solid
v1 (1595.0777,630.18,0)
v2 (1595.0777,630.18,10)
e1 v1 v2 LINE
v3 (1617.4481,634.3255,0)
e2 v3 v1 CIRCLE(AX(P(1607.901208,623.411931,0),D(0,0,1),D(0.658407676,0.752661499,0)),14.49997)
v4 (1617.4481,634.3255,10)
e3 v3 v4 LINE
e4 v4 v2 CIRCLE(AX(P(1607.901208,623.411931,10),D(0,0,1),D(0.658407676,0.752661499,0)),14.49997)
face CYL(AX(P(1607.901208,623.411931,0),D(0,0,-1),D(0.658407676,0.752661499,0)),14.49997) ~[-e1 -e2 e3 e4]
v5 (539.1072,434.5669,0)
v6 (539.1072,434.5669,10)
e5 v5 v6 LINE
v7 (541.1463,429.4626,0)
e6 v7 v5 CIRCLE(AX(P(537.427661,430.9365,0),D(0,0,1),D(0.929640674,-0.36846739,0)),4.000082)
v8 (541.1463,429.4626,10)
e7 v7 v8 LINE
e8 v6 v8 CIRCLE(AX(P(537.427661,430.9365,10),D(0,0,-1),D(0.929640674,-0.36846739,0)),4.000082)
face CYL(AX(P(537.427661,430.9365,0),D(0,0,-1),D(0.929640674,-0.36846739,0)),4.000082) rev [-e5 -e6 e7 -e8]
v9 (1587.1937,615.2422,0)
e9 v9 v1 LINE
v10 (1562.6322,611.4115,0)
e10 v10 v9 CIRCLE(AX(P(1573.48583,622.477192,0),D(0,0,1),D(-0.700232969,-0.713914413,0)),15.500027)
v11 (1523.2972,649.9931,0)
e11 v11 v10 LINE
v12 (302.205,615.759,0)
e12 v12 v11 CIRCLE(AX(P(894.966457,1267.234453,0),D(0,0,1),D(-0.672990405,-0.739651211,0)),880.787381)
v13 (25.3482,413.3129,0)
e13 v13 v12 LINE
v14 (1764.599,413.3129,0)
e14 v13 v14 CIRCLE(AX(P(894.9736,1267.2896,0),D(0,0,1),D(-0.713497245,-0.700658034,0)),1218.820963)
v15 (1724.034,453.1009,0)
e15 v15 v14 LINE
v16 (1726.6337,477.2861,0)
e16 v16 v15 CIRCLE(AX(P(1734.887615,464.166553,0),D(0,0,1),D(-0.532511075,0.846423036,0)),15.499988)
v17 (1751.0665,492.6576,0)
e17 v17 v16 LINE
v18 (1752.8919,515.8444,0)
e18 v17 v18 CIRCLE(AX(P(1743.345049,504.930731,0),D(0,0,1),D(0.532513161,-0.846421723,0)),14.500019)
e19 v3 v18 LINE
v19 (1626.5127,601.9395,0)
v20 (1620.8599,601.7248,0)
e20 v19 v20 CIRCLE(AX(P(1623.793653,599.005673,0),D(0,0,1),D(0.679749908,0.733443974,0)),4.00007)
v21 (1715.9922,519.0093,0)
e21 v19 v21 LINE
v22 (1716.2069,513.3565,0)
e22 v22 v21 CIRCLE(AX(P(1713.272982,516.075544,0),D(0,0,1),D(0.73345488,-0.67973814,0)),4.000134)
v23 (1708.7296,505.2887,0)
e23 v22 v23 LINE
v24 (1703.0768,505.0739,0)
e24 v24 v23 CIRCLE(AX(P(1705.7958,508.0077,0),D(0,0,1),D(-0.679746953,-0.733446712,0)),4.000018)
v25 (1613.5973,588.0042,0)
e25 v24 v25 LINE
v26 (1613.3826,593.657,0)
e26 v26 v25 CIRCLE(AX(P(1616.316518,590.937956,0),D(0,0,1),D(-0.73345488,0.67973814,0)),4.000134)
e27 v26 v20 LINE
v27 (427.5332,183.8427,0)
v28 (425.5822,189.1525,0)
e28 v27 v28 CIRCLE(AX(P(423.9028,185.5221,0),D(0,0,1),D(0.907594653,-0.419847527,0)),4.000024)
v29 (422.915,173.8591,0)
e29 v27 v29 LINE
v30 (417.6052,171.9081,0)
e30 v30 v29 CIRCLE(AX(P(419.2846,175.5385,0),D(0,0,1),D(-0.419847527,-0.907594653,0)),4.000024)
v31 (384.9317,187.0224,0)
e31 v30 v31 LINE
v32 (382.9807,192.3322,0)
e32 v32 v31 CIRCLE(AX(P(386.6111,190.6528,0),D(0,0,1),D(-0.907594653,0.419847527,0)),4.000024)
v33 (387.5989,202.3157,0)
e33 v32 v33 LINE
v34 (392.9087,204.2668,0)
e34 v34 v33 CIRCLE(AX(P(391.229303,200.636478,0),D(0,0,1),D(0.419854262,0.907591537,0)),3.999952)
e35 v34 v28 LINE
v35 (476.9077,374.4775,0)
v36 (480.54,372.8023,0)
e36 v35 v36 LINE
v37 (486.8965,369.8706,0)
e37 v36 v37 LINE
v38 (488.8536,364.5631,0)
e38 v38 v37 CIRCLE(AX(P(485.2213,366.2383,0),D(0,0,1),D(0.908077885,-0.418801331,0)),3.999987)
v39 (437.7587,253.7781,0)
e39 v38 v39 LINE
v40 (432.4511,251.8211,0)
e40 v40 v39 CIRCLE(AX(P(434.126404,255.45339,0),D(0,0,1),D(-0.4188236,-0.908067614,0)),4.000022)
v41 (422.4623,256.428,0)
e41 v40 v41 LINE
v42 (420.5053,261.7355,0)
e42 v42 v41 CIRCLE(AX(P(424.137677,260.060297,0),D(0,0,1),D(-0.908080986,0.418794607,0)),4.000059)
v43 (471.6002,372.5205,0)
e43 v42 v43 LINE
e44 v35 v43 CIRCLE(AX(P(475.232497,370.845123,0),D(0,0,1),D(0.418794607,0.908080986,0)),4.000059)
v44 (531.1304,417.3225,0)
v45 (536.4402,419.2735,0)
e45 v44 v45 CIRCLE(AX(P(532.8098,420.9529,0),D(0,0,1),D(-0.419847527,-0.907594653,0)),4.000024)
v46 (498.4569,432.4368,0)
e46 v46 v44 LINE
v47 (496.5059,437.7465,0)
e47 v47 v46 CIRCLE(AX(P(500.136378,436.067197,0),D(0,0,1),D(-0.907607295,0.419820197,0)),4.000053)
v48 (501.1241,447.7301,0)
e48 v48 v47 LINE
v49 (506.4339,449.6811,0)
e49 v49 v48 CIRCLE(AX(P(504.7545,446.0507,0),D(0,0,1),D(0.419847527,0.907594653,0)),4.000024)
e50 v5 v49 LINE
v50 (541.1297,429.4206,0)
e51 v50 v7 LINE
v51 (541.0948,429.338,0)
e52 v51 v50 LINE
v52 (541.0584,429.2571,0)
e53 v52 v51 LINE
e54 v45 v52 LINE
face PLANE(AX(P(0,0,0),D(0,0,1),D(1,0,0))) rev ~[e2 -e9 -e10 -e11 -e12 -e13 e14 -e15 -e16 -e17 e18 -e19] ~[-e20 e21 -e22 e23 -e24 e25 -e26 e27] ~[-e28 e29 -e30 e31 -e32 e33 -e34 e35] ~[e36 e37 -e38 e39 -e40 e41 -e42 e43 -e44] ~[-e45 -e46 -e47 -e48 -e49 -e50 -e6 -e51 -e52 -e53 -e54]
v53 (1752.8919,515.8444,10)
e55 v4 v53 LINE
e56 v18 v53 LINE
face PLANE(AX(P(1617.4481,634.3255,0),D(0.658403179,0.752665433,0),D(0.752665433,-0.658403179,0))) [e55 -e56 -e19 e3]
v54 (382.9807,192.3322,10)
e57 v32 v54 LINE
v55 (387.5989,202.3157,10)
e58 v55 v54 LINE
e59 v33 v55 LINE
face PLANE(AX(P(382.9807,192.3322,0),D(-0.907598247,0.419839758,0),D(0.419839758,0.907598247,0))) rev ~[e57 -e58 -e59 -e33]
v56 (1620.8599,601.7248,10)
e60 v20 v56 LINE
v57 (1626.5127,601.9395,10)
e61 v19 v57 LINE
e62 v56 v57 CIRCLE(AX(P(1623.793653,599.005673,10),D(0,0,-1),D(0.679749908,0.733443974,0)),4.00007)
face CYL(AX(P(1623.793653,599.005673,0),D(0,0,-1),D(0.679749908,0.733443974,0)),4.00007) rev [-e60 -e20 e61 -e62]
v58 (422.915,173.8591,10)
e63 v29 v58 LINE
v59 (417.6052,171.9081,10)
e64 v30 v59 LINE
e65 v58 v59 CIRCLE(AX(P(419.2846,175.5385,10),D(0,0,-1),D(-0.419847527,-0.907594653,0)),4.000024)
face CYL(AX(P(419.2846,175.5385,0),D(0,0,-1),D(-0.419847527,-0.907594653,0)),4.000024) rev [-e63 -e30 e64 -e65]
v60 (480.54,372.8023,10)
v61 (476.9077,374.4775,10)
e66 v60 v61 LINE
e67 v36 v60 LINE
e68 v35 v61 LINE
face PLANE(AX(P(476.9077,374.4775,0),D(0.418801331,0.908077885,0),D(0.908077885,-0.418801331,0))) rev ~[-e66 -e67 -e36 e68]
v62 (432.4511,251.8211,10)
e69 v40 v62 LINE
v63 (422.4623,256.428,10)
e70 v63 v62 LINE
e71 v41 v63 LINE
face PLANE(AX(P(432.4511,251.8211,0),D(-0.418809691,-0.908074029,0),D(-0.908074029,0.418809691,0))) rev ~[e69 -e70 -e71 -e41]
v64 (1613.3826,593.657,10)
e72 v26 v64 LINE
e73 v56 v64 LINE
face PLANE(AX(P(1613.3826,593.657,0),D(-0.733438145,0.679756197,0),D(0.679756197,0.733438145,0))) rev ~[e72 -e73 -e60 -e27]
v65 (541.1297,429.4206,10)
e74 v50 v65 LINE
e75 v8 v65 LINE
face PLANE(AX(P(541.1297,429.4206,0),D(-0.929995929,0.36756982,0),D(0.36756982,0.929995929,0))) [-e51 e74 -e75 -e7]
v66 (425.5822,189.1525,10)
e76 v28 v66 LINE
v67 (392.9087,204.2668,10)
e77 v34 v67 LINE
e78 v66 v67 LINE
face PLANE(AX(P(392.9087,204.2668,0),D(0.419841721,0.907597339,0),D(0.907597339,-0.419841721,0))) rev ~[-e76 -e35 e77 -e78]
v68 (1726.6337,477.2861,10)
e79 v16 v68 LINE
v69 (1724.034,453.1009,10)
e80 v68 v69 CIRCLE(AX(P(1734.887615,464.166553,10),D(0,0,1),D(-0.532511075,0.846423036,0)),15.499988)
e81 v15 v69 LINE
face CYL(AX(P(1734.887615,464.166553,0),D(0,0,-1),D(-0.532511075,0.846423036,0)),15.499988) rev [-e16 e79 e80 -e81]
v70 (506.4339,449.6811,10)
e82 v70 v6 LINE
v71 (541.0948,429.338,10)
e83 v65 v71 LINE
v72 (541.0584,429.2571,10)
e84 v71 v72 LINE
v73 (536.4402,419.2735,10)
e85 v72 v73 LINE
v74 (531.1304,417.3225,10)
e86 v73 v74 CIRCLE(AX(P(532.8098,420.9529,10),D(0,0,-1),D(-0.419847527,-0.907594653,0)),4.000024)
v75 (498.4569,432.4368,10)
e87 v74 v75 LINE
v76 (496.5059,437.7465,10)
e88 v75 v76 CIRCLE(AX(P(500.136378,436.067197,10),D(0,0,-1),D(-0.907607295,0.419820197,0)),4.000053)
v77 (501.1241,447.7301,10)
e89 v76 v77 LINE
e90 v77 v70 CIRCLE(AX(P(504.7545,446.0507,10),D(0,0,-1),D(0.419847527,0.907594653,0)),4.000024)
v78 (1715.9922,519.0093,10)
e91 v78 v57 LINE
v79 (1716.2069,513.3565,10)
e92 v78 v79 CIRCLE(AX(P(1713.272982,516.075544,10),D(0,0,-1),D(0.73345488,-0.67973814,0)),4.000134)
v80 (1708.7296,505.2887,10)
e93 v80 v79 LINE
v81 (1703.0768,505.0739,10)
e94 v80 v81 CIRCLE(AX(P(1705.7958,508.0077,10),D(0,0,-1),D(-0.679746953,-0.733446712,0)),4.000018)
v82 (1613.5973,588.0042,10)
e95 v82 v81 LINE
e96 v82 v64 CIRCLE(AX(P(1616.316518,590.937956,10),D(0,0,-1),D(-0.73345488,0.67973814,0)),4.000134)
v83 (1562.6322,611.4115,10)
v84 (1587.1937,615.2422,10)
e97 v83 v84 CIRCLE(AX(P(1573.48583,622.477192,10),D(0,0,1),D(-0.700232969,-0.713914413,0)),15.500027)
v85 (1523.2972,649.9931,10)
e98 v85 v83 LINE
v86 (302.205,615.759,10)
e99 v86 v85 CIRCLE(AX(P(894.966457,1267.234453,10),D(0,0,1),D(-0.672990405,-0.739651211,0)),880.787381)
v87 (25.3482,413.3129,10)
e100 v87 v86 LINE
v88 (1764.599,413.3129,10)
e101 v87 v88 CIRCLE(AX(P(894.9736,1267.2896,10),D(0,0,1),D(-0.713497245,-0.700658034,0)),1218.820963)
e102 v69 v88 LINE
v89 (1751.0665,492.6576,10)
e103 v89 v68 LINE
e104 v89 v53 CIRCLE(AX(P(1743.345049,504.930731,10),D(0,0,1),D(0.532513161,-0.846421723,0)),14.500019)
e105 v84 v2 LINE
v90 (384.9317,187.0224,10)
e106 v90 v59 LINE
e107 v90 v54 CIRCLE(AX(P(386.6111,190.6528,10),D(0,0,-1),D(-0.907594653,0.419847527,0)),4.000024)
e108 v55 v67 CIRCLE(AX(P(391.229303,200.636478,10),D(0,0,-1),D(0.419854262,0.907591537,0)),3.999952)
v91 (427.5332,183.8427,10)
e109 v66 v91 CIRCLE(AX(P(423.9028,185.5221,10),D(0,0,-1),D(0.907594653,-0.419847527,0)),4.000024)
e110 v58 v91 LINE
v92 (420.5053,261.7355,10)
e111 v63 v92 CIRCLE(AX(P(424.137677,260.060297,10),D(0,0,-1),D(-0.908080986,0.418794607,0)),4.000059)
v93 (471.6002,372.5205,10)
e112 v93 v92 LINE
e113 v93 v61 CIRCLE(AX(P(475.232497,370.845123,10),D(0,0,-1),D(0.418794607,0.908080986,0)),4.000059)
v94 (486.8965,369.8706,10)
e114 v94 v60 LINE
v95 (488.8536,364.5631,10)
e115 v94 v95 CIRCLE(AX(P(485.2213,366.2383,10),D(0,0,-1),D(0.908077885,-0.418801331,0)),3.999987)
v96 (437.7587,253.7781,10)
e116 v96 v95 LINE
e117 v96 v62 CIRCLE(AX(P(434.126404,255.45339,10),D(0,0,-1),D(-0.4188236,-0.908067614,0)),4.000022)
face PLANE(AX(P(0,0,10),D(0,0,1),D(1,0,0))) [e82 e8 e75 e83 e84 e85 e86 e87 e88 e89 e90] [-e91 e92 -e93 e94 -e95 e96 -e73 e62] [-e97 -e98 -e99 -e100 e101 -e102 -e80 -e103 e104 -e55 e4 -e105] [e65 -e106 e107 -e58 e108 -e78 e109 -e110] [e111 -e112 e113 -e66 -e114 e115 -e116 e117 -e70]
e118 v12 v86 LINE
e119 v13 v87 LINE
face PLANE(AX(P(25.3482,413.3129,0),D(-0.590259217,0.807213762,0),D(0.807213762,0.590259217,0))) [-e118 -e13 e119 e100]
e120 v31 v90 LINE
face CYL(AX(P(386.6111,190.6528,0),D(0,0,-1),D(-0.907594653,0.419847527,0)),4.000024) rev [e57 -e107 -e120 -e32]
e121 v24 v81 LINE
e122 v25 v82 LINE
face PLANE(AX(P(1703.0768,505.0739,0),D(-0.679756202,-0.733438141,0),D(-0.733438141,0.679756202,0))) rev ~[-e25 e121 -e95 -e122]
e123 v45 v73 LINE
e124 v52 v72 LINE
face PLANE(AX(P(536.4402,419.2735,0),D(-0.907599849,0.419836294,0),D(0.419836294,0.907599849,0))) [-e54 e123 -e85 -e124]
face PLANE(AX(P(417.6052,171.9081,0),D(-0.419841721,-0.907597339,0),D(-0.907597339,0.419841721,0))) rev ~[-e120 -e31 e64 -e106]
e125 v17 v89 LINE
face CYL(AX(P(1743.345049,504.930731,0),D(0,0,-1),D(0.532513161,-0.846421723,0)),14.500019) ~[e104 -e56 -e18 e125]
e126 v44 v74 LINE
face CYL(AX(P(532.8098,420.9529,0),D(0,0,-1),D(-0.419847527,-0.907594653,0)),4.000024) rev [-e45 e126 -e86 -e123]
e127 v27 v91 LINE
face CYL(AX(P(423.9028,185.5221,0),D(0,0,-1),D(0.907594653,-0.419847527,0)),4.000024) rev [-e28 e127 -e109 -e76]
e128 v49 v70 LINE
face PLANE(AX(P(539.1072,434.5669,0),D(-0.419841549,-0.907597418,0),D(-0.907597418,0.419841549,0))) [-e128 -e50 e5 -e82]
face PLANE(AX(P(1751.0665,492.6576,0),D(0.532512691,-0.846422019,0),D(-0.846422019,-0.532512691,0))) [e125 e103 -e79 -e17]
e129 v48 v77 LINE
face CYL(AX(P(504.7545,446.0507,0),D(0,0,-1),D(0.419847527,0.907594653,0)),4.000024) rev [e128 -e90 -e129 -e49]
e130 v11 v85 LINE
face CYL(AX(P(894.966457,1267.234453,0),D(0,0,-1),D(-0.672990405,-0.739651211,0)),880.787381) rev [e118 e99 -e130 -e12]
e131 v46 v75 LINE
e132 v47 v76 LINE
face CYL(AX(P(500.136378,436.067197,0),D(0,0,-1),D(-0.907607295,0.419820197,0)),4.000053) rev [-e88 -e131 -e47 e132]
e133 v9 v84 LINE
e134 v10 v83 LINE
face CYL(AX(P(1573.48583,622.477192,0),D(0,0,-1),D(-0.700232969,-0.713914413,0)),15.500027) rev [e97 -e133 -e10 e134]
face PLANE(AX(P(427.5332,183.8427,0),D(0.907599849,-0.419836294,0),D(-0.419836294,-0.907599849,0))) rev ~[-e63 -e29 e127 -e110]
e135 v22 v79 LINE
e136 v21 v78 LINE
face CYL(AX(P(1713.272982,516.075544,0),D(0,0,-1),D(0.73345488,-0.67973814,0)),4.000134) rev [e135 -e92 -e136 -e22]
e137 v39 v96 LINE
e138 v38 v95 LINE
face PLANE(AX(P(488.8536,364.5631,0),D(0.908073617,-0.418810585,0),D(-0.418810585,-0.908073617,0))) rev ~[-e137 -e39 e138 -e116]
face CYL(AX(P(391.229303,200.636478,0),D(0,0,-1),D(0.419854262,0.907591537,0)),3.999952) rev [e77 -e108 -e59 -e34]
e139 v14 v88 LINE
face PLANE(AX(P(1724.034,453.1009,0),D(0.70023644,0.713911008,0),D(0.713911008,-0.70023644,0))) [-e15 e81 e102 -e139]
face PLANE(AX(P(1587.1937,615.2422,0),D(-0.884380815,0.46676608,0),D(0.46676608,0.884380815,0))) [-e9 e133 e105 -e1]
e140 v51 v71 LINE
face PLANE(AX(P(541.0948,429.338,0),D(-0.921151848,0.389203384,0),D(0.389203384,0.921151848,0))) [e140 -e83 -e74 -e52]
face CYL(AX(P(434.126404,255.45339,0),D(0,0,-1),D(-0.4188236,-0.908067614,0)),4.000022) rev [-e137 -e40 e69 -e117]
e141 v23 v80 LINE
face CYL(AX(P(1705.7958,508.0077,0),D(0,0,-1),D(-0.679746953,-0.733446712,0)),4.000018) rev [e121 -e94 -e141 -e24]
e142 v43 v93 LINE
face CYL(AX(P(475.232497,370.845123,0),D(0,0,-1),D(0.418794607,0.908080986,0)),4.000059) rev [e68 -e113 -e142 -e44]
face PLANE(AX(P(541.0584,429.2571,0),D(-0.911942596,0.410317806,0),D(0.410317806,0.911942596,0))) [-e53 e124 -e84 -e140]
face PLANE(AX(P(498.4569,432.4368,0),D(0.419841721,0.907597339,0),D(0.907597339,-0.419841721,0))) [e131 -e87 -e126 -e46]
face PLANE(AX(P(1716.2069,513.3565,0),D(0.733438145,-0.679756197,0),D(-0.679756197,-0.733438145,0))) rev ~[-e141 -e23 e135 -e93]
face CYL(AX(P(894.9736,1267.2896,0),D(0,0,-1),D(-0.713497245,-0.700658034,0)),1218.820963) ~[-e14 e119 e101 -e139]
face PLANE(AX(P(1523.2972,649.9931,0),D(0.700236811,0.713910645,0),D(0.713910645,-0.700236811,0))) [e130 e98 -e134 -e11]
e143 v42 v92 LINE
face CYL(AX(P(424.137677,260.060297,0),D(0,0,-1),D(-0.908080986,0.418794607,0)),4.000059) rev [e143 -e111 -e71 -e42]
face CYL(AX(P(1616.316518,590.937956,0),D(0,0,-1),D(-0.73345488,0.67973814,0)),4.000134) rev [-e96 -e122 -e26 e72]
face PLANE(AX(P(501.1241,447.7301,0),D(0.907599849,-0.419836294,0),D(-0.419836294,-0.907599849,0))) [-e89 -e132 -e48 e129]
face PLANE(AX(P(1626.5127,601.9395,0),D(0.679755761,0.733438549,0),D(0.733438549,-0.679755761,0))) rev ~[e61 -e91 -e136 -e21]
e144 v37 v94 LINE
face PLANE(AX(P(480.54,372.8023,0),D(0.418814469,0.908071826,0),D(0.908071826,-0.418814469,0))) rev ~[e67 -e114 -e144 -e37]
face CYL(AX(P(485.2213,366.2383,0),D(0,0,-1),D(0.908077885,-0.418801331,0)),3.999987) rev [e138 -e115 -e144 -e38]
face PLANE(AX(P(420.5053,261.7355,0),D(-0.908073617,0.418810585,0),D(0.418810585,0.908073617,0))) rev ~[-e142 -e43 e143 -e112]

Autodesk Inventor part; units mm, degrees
ref_plane "YZ Plane" through (0, 0, 0) normal (1, 0, 0) x (0, 1, 0)
ref_plane "XZ Plane" through (0, 0, 0) normal (0, 1, 0) x (-1, 0, 0)
ref_plane "XY Plane" through (0, 0, 0) normal (0, 0, 1) x (1, 0, 0)
sketch "CONTOURS" plane through (0, 0, 0) normal (0, 0, 1) x (1, 0, 0)
  line L0 (1957.6292, 879.0874) -> (1973.7702, 879.0874)
  arc A0 (1973.7702, 871.0874) -> (1973.7702, 879.0874) centre (1973.7702, 875.0874) ccw
  line L1 (2395.2631, 344.4855) -> (2395.2631, 361.2856)
  line L2 (2395.2631, 361.2856) -> (2335.4041, 361.2856)
  arc A1 (2327.4041, 361.2857) -> (2335.4041, 361.2856) centre (2331.4041, 361.2856) ccw
  line L3 (2327.4041, 361.2857) -> (2327.4041, 413.0854)
  arc A2 (2046.6196, 767.5507) -> (2327.4041, 413.0854) centre (2780.5524, 1060.4825) ccw
  arc A3 (2046.6196, 767.5507) -> (2038.9046, 766.0679) centre (2042.9046, 766.0679) ccw
  line L4 (2038.9046, 766.0679) -> (2038.9041, 604.8116)
  line L5 (2038.9041, 604.8116) -> (2060.9041, 604.8116)
  arc A4 (2068.9041, 604.8116) -> (2060.9041, 604.8116) centre (2064.9041, 604.8116) ccw
  line L6 (2068.9041, 604.8116) -> (2068.9041, 585.8116)
  arc A5 (2060.9041, 585.8116) -> (2068.9041, 585.8116) centre (2064.9041, 585.8116) ccw
  line L7 (2060.9041, 585.8116) -> (2037.4041, 585.8116)
  line L8 (2037.4041, 585.8116) -> (1996.4234, 585.8116)
  arc A6 (1988.9234, 587.8213) -> (1996.4234, 585.8116) centre (1996.4234, 600.8116) ccw
  line L9 (1988.9234, 587.8213) -> (1963.7631, 602.3475)
  arc A7 (1963.7631, 602.3475) -> (1957.7631, 598.8834) centre (1961.7631, 598.8834) ccw
  line L10 (1957.7631, 598.8834) -> (1957.7631, 403.7398)
  arc A8 (1957.7631, 403.7398) -> (1963.7631, 400.2757) centre (1961.7631, 403.7398) ccw
  line L11 (1963.7631, 400.2757) -> (1988.9234, 414.802)
  arc A9 (1996.4234, 416.8116) -> (1988.9234, 414.802) centre (1996.4234, 401.8116) ccw
  line L12 (1996.4234, 416.8116) -> (2037.4041, 416.8116)
  line L13 (2037.4041, 416.8116) -> (2060.9041, 416.8116)
  arc A10 (2068.9041, 416.8116) -> (2060.9041, 416.8116) centre (2064.9041, 416.8116) ccw
  line L14 (2068.9041, 416.8116) -> (2068.9041, 397.8116)
  arc A11 (2060.9041, 397.8116) -> (2068.9041, 397.8116) centre (2064.9041, 397.8116) ccw
  line L15 (2060.9041, 397.8116) -> (2038.9041, 397.8116)
  line L16 (2038.9041, 397.8116) -> (2038.9041, 210.8117)
  line L17 (2038.9041, 210.8117) -> (2052.4041, 210.8117)
  arc A12 (2052.4041, 202.8117) -> (2052.4041, 210.8117) centre (2052.4041, 206.8117) ccw
  line L18 (2052.4041, 202.8117) -> (2052.4041, 195.3488)
  arc A13 (2052.4041, 195.3488) -> (2327.4041, 47.9742) centre (2799.5688, 1259.2914) ccw
  arc A14 (2327.4041, 39.9742) -> (2327.4041, 47.9742) centre (2327.4041, 43.9742) ccw
  line L19 (2327.4041, 39.9742) -> (2327.4041, 23.2856)
  line L20 (2327.4041, 23.2856) -> (2395.2631, 23.2856)
  line L21 (2395.2631, 23.2856) -> (2395.2631, 40.0855)
  arc A15 (2395.2631, 48.0855) -> (2395.2631, 40.0855) centre (2395.2631, 44.0855) ccw
  line L22 (2395.2631, 48.0855) -> (2411.4041, 48.0855)
  line L23 (2411.4041, 48.0855) -> (2411.4041, 66.0855)
  line L24 (2411.4041, 66.0855) -> (2403.2631, 66.0855)
  arc A16 (2395.2631, 66.0855) -> (2403.2631, 66.0855) centre (2399.2631, 66.0855) ccw
  line L25 (2395.2631, 66.0855) -> (2395.2631, 132.0783)
  line L26 (2395.2631, 132.0783) -> (2373.2631, 132.0783)
  arc A17 (2365.2631, 132.0783) -> (2373.2631, 132.0783) centre (2369.2631, 132.0783) ccw
  line L27 (2365.2631, 132.0783) -> (2365.2631, 148.6501)
  line L28 (2365.2631, 148.6501) -> (2364.8394, 148.4335)
  line L29 (2364.8394, 148.4335) -> (2364.4234, 148.2026)
  line L30 (2364.4234, 148.2026) -> (2339.2631, 133.6763)
  arc A18 (2331.7631, 138.0065) -> (2339.2631, 133.6763) centre (2336.7631, 138.0065) ccw
  line L31 (2331.7631, 138.0065) -> (2331.7631, 246.5646)
  arc A19 (2339.2631, 250.8947) -> (2331.7631, 246.5646) centre (2336.7631, 246.5646) ccw
  line L32 (2339.2631, 250.8947) -> (2364.4234, 236.3684)
  line L33 (2364.4234, 236.3684) -> (2364.8394, 236.1375)
  line L34 (2364.8394, 236.1375) -> (2365.2631, 235.9209)
  line L35 (2365.2631, 235.9209) -> (2365.2631, 252.4928)
  arc A20 (2373.2631, 252.4928) -> (2365.2631, 252.4928) centre (2369.2631, 252.4928) ccw
  line L36 (2373.2631, 252.4928) -> (2395.2631, 252.4928)
  line L37 (2395.2631, 252.4928) -> (2395.2631, 318.4855)
  arc A21 (2403.2631, 318.4855) -> (2395.2631, 318.4855) centre (2399.2631, 318.4855) ccw
  line L38 (2403.2631, 318.4855) -> (2411.4041, 318.4855)
  line L39 (2411.4041, 318.4855) -> (2411.4041, 336.4855)
  line L40 (2411.4041, 336.4855) -> (2395.2631, 336.4855)
  arc A22 (2395.2631, 344.4855) -> (2395.2631, 336.4855) centre (2395.2631, 340.4855) ccw
  line L41 (1973.7702, 871.0874) -> (1973.7702, 854.2874)
  line L42 (1973.7702, 854.2874) -> (2033.6292, 854.2873)
  line L43 (2041.6292, 854.2873) -> (2041.6292, 802.4876)
  arc A23 (2322.4137, 448.0223) -> (2041.6292, 802.4876) centre (1588.4809, 155.0905) ccw
  arc A24 (2322.4137, 448.0223) -> (2330.1287, 449.505) centre (2326.1287, 449.505) ccw
  line L44 (2330.1287, 449.505) -> (2330.1292, 610.7613)
  line L45 (2330.1292, 610.7613) -> (2308.1292, 610.7613)
  arc A25 (2300.1292, 610.7613) -> (2308.1292, 610.7613) centre (2304.1292, 610.7613) ccw
  line L46 (2300.1292, 610.7613) -> (2300.1292, 629.7613)
  arc A26 (2308.1292, 629.7613) -> (2300.1292, 629.7613) centre (2304.1292, 629.7613) ccw
  line L47 (2308.1292, 629.7613) -> (2331.6292, 629.7613)
  line L48 (2331.6292, 629.7613) -> (2372.6099, 629.7613)
  arc A27 (2380.1099, 627.7517) -> (2372.6099, 629.7613) centre (2372.6099, 614.7613) ccw
  line L49 (2380.1099, 627.7517) -> (2405.2702, 613.2254)
  arc A28 (2405.2702, 613.2254) -> (2411.2702, 616.6895) centre (2407.2702, 616.6895) ccw
  line L50 (2411.2702, 616.6895) -> (2411.2702, 811.8331)
  line L51 (2405.2702, 815.2972) -> (2380.1099, 800.7709)
  arc A29 (2372.6099, 798.7613) -> (2380.1099, 800.7709) centre (2372.6099, 813.7613) ccw
  line L52 (2372.6099, 798.7613) -> (2331.6292, 798.7613)
  line L53 (2331.6292, 798.7613) -> (2308.1292, 798.7613)
  arc A30 (2300.1292, 798.7613) -> (2308.1292, 798.7613) centre (2304.1292, 798.7613) ccw
  line L54 (2300.1292, 798.7613) -> (2300.1292, 817.7613)
  arc A31 (2308.1292, 817.7613) -> (2300.1292, 817.7613) centre (2304.1292, 817.7613) ccw
  line L55 (2308.1292, 817.7613) -> (2330.1292, 817.7613)
  line L56 (2330.1292, 817.7613) -> (2330.1292, 1004.7612)
  line L57 (2330.1292, 1004.7612) -> (2316.6292, 1004.7612)
  arc A32 (2316.6292, 1012.7612) -> (2316.6292, 1004.7612) centre (2316.6292, 1008.7612) ccw
  line L58 (2316.6292, 1012.7612) -> (2316.6292, 1020.2242)
  arc A33 (2316.6292, 1020.2242) -> (2041.6292, 1167.5988) centre (1569.4645, -43.7184) ccw
  arc A34 (2041.6292, 1175.5988) -> (2041.6292, 1167.5988) centre (2041.6292, 1171.5988) ccw
  line L59 (2041.6292, 1175.5988) -> (2041.6292, 1192.2873)
  line L60 (2041.6292, 1192.2873) -> (1973.7702, 1192.2873)
  line L61 (1973.7702, 1192.2873) -> (1973.7702, 1175.4874)
  arc A35 (1973.7702, 1167.4874) -> (1973.7702, 1175.4874) centre (1973.7702, 1171.4874) ccw
  line L62 (1973.7702, 1167.4874) -> (1957.6292, 1167.4874)
  line L63 (1957.6292, 1167.4874) -> (1957.6292, 1149.4874)
  line L64 (1957.6292, 1149.4874) -> (1965.7702, 1149.4874)
  arc A36 (1973.7702, 1149.4874) -> (1965.7702, 1149.4874) centre (1969.7702, 1149.4874) ccw
  line L65 (1973.7702, 1149.4874) -> (1973.7702, 1083.4947)
  line L66 (1973.7702, 1083.4947) -> (1995.7702, 1083.4947)
  arc A37 (2003.7702, 1083.4946) -> (1995.7702, 1083.4947) centre (1999.7702, 1083.4947) ccw
  line L67 (2003.7702, 1083.4946) -> (2003.7702, 1066.9228)
  line L68 (2003.7702, 1066.9228) -> (2004.1939, 1067.1394)
  line L69 (2004.1939, 1067.1394) -> (2004.6099, 1067.3703)
  line L70 (2004.6099, 1067.3703) -> (2029.7702, 1081.8966)
  arc A38 (2037.2702, 1077.5665) -> (2029.7702, 1081.8966) centre (2032.2702, 1077.5665) ccw
  line L71 (2037.2702, 1077.5665) -> (2037.2702, 969.0084)
  line L72 (2029.7702, 964.6782) -> (2004.6099, 979.2045)
  line L73 (2004.6099, 979.2045) -> (2004.1939, 979.4354)
  line L74 (2004.1939, 979.4354) -> (2003.7702, 979.652)
  line L75 (2003.7702, 979.652) -> (2003.7702, 963.0802)
  arc A39 (1995.7702, 963.0802) -> (2003.7702, 963.0802) centre (1999.7702, 963.0802) ccw
  arc A40 (2411.2702, 811.8331) -> (2405.2702, 815.2972) centre (2407.2702, 811.8331) ccw
  line L76 (29.0412, 889.8609) -> (69.6135, 929.6413)
  arc A41 (92.1865, 926.768) -> (69.6135, 929.6413) centre (79.765, 919.2877) ccw
  line L77 (92.1865, 926.768) -> (107.0781, 902.0398)
  arc A42 (107.0781, 902.0398) -> (131.8211, 899.605) centre (120.3563, 910.0361) ccw
  line L78 (131.8211, 899.605) -> (252.9238, 1032.7101)
  arc A43 (252.9238, 1032.7101) -> (248.9601, 1056.7052) centre (241.459, 1043.1412) ccw
  line L79 (248.9601, 1056.7052) -> (234.1791, 1064.8793)
  arc A44 (231.0447, 1087.9218) -> (234.1791, 1064.8793) centre (241.1963, 1077.5683) ccw
  line L80 (231.0447, 1087.9218) -> (270.3869, 1126.4961)
  arc A45 (270.3869, 1126.4961) -> (1527.2637, 1126.4961) centre (898.8253, 1743.5906) ccw
  line L81 (1527.2637, 1126.4961) -> (1815.1018, 939.9773)
  arc A46 (29.0412, 889.8609) -> (1815.1018, 939.9773) centre (898.8169, 1743.6721) ccw
  line L82 (1523.2972, 649.9931) -> (1562.6322, 611.4115)
  arc A47 (1562.6322, 611.4115) -> (1587.1937, 615.2422) centre (1573.4858, 622.4771) ccw
  line L83 (1587.1937, 615.2422) -> (1595.0777, 630.18)
  arc A48 (1617.4481, 634.3255) -> (1595.0777, 630.18) centre (1607.9012, 623.4119) ccw
  line L84 (1617.4481, 634.3255) -> (1752.8919, 515.8444)
  arc A49 (1751.0665, 492.6576) -> (1752.8919, 515.8444) centre (1743.3451, 504.9307) ccw
  line L85 (1751.0665, 492.6576) -> (1726.6337, 477.2861)
  arc A50 (1726.6337, 477.2861) -> (1724.034, 453.1009) centre (1734.8877, 464.1665) ccw
  line L86 (1724.034, 453.1009) -> (1764.599, 413.3129)
  arc A51 (25.3482, 413.3129) -> (1764.599, 413.3129) centre (894.9736, 1267.2896) ccw
  line L87 (25.3482, 413.3129) -> (302.205, 615.759)
  arc A52 (302.205, 615.759) -> (1523.2972, 649.9931) centre (894.9664, 1267.2343) ccw
  line L88 (1995.7702, 963.0802) -> (1973.7702, 963.0802)
  line L89 (1973.7702, 963.0802) -> (1973.7702, 897.0874)
  arc A53 (1965.7702, 897.0874) -> (1973.7702, 897.0874) centre (1969.7702, 897.0874) ccw
  line L90 (1965.7702, 897.0874) -> (1957.6292, 897.0874)
  line L91 (1957.6292, 897.0874) -> (1957.6292, 879.0874)
  dimension "d1" = 338
  dimension "d3" = 16.6885
  dimension "d5" = 18
  dimension "d7" = 16.141
  dimension "d9" = 51.7997
  dimension "d11" = 1300.088
  dimension "d13" = 16.7999
sketch "HOLES" plane through (0, 0, 0) normal (0, 0, 1) x (1, 0, 0)
  line L0 (417.6052, 171.9081) -> (384.9317, 187.0224)
  arc A0 (382.9807, 192.3322) -> (384.9317, 187.0224) centre (386.6111, 190.6528) ccw
  line L1 (382.9807, 192.3322) -> (387.5989, 202.3157)
  arc A1 (392.9087, 204.2668) -> (387.5989, 202.3157) centre (391.2293, 200.6364) ccw
  line L2 (392.9087, 204.2668) -> (425.5822, 189.1525)
  arc A2 (427.5332, 183.8427) -> (425.5822, 189.1525) centre (423.9028, 185.5221) ccw
  line L3 (290.0252, 1067.7256) -> (282.3828, 1059.8139)
  arc A3 (276.7268, 1059.716) -> (282.3828, 1059.8139) centre (279.5059, 1062.593) ccw
  line L4 (276.7268, 1059.716) -> (250.8342, 1084.7274)
  arc A4 (250.7363, 1090.3834) -> (250.8342, 1084.7274) centre (253.6132, 1087.6044) ccw
  line L5 (250.7363, 1090.3834) -> (258.3786, 1098.2951)
  arc A5 (264.0347, 1098.393) -> (258.3786, 1098.2951) centre (261.2556, 1095.516) ccw
  line L6 (264.0347, 1098.393) -> (289.9273, 1073.3816)
  arc A6 (290.0252, 1067.7256) -> (289.9273, 1073.3816) centre (287.1482, 1070.5046) ccw
  line L7 (102.1615, 873.2431) -> (94.5191, 865.3315)
  arc A7 (88.8631, 865.2335) -> (94.5191, 865.3315) centre (91.6422, 868.1105) ccw
  line L8 (88.8631, 865.2335) -> (62.9705, 890.245)
  arc A8 (62.8726, 895.901) -> (62.9705, 890.245) centre (65.7496, 893.1219) ccw
  line L9 (62.8726, 895.901) -> (70.515, 903.8126)
  arc A9 (76.171, 903.9105) -> (70.515, 903.8126) centre (73.3919, 901.0336) ccw
  line L10 (488.8536, 364.5631) -> (437.7587, 253.7781)
  arc A10 (102.1615, 873.2431) -> (102.0636, 878.8991) centre (99.2846, 876.0221) ccw
  line L11 (1358.4331, 945.869) -> (1353.2703, 955.5821)
  arc A11 (1353.2703, 955.5821) -> (1347.8609, 957.2368) centre (1349.7382, 953.7047) ccw
  line L12 (1347.8609, 957.2368) -> (1316.0723, 940.3404)
  arc A12 (1316.0723, 940.3404) -> (1314.4176, 934.931) centre (1317.9497, 936.8084) ccw
  line L13 (1314.4176, 934.931) -> (1319.5804, 925.2178)
  arc A13 (1319.5804, 925.2178) -> (1324.9899, 923.5631) centre (1323.1125, 927.0952) ccw
  line L14 (1324.9899, 923.5631) -> (1356.7784, 940.4595)
  arc A14 (1356.7784, 940.4595) -> (1358.4331, 945.869) centre (1354.901, 943.9916) ccw
  line L15 (1441.3284, 696.1636) -> (1446.4912, 686.4505)
  arc A15 (1446.4912, 686.4505) -> (1451.9006, 684.7958) centre (1450.0232, 688.3278) ccw
  line L16 (1451.9006, 684.7958) -> (1483.6892, 701.6922)
  arc A16 (1483.6892, 701.6922) -> (1485.3438, 707.1016) centre (1481.8118, 705.2242) ccw
  line L17 (1485.3438, 707.1016) -> (1480.181, 716.8148)
  arc A17 (1480.181, 716.8148) -> (1474.7716, 718.4695) centre (1476.649, 714.9374) ccw
  line L18 (1474.7716, 718.4695) -> (1442.9831, 701.5731)
  arc A18 (1442.9831, 701.5731) -> (1441.3284, 696.1636) centre (1444.8604, 698.041) ccw
  line L19 (1363.2554, 875.1779) -> (1357.078, 871.8854)
  arc A19 (1357.078, 871.8854) -> (1355.4295, 866.4741) centre (1358.9594, 868.3555) ccw
  line L20 (1355.4295, 866.4741) -> (1412.8118, 758.8114)
  arc A20 (1412.8118, 758.8114) -> (1418.2231, 757.1628) centre (1416.3417, 760.6927) ccw
  line L21 (1418.2231, 757.1628) -> (1427.9304, 762.3366)
  arc A21 (1427.9304, 762.3366) -> (1429.579, 767.7479) centre (1426.049, 765.8666) ccw
  line L22 (1429.579, 767.7479) -> (1372.1967, 875.4107)
  arc A22 (1372.1967, 875.4107) -> (1366.7853, 877.0592) centre (1368.6667, 873.5293) ccw
  line L23 (1366.7853, 877.0592) -> (1363.2554, 875.1779)
  line L24 (1703.0768, 505.0739) -> (1613.5973, 588.0042)
  arc A23 (1613.3826, 593.657) -> (1613.5973, 588.0042) centre (1616.3164, 590.938) ccw
  line L25 (1613.3826, 593.657) -> (1620.8599, 601.7248)
  arc A24 (1626.5127, 601.9395) -> (1620.8599, 601.7248) centre (1623.7937, 599.0058) ccw
  line L26 (1626.5127, 601.9395) -> (1715.9922, 519.0093)
  arc A25 (1716.2069, 513.3565) -> (1715.9922, 519.0093) centre (1713.2731, 516.0755) ccw
  line L27 (1716.2069, 513.3565) -> (1708.7296, 505.2887)
  arc A26 (1703.0768, 505.0739) -> (1708.7296, 505.2887) centre (1705.7958, 508.0077) ccw
  line L28 (541.1297, 429.4206) -> (541.1463, 429.4626)
  arc A27 (541.1463, 429.4626) -> (539.1072, 434.5669) centre (537.4278, 430.9365) ccw
  line L29 (539.1072, 434.5669) -> (506.4339, 449.6811)
  arc A28 (506.4339, 449.6811) -> (501.1241, 447.7301) centre (504.7545, 446.0507) ccw
  line L30 (501.1241, 447.7301) -> (496.5059, 437.7465)
  arc A29 (496.5059, 437.7465) -> (498.4569, 432.4368) centre (500.1363, 436.0672) ccw
  line L31 (498.4569, 432.4368) -> (531.1304, 417.3225)
  arc A30 (531.1304, 417.3225) -> (536.4402, 419.2735) centre (532.8098, 420.9529) ccw
  line L32 (536.4402, 419.2735) -> (541.0584, 429.2571)
  line L33 (541.0584, 429.2571) -> (541.0948, 429.338)
  line L34 (541.0948, 429.338) -> (541.1297, 429.4206)
  line L35 (480.54, 372.8023) -> (486.8965, 369.8706)
  arc A31 (488.8536, 364.5631) -> (486.8965, 369.8706) centre (485.2213, 366.2383) ccw
  arc A32 (432.4511, 251.8211) -> (437.7587, 253.7781) centre (434.1264, 255.4533) ccw
  line L36 (432.4511, 251.8211) -> (422.4623, 256.428)
  arc A33 (420.5053, 261.7355) -> (422.4623, 256.428) centre (424.1376, 260.0603) ccw
  line L37 (420.5053, 261.7355) -> (471.6002, 372.5205)
  arc A34 (476.9077, 374.4775) -> (471.6002, 372.5205) centre (475.2325, 370.8452) ccw
  line L38 (476.9077, 374.4775) -> (480.54, 372.8023)
  line L39 (427.5332, 183.8427) -> (422.915, 173.8591)
  arc A35 (417.6052, 171.9081) -> (422.915, 173.8591) centre (419.2846, 175.5385) ccw
  line L40 (76.171, 903.9105) -> (102.0636, 878.8991)
sketch "LETTERS" plane through (0, 0, 0) normal (0, 0, 1) x (1, 0, 0)
  line L0 (565.2488, 269.5965) -> (565.4715, 269.5068)
  line L1 (565.4715, 269.5068) -> (565.6923, 269.4126)
  line L2 (565.6923, 269.4126) -> (565.9113, 269.314)
  line L3 (565.9113, 269.314) -> (566.1283, 269.2109)
  line L4 (566.1283, 269.2109) -> (566.3432, 269.1036)
  line L5 (566.3432, 269.1036) -> (566.556, 268.9919)
  line L6 (566.556, 268.9919) -> (566.7665, 268.876)
  line L7 (566.7665, 268.876) -> (566.9747, 268.7559)
  line L8 (566.9747, 268.7559) -> (567.1804, 268.6317)
  line L9 (567.1804, 268.6317) -> (567.3837, 268.5035)
  line L10 (567.3837, 268.5035) -> (567.5843, 268.3713)
  line L11 (567.5843, 268.3713) -> (567.7822, 268.2351)
  line L12 (567.7822, 268.2351) -> (567.9773, 268.095)
  line L13 (567.9773, 268.095) -> (568.1695, 267.951)
  line L14 (568.1695, 267.951) -> (568.3587, 267.8033)
  line L15 (568.3587, 267.8033) -> (568.5449, 267.6519)
  line L16 (568.5449, 267.6519) -> (568.7279, 267.4968)
  line L17 (568.7279, 267.4968) -> (568.9076, 267.3381)
  line L18 (568.9076, 267.3381) -> (569.084, 267.1758)
  line L19 (569.084, 267.1758) -> (569.2569, 267.01)
  line L20 (569.2569, 267.01) -> (569.4263, 266.8407)
  line L21 (569.4263, 266.8407) -> (569.5921, 266.6681)
  line L22 (569.5921, 266.6681) -> (569.7542, 266.4921)
  line L23 (569.7542, 266.4921) -> (569.9124, 266.3129)
  line L24 (569.9124, 266.3129) -> (570.0668, 266.1304)
  line L25 (570.0668, 266.1304) -> (570.2171, 265.9448)
  line L26 (570.2171, 265.9448) -> (570.3634, 265.756)
  line L27 (570.3634, 265.756) -> (570.5054, 265.5642)
  line L28 (570.5054, 265.5642) -> (570.6432, 265.3693)
  line L29 (570.6432, 265.3693) -> (570.7767, 265.1716)
  line L30 (570.7767, 265.1716) -> (570.9058, 264.9711)
  line L31 (570.9058, 264.9711) -> (571.0303, 264.7679)
  line L32 (571.0303, 264.7679) -> (571.1503, 264.5622)
  line L33 (571.1503, 264.5622) -> (571.2656, 264.354)
  line L34 (571.2656, 264.354) -> (571.3762, 264.1435)
  line L35 (571.3762, 264.1435) -> (571.482, 263.9307)
  line L36 (571.482, 263.9307) -> (571.583, 263.7158)
  line L37 (571.583, 263.7158) -> (571.679, 263.4989)
  line L38 (571.679, 263.4989) -> (571.77, 263.28)
  line L39 (571.77, 263.28) -> (571.8558, 263.0594)
  line L40 (571.8558, 263.0594) -> (571.9365, 262.8371)
  line L41 (571.9365, 262.8371) -> (572.012, 262.6132)
  line L42 (572.012, 262.6132) -> (572.0821, 262.3878)
  line L43 (572.0821, 262.3878) -> (572.1469, 262.1611)
  line L44 (572.1469, 262.1611) -> (572.2061, 261.9332)
  line L45 (572.2061, 261.9332) -> (572.2599, 261.7041)
  line L46 (572.2599, 261.7041) -> (572.308, 261.474)
  line L47 (572.308, 261.474) -> (572.3504, 261.2429)
  line L48 (572.3504, 261.2429) -> (572.3871, 261.0111)
  line L49 (572.3871, 261.0111) -> (572.4179, 260.7785)
  line L50 (572.4179, 260.7785) -> (572.4428, 260.5454)
  line L51 (572.4428, 260.5454) -> (572.4617, 260.3118)
  line L52 (572.4617, 260.3118) -> (572.4745, 260.0778)
  line L53 (572.4745, 260.0778) -> (572.4811, 259.8435)
  line L54 (572.4811, 259.8435) -> (572.4816, 259.6092)
  line L55 (572.4816, 259.6092) -> (572.4757, 259.3747)
  line L56 (572.4757, 259.3747) -> (572.4635, 259.1404)
  line L57 (572.4635, 259.1404) -> (572.4449, 258.9062)
  line L58 (572.4449, 258.9062) -> (572.4197, 258.6723)
  line L59 (572.4197, 258.6723) -> (572.3879, 258.4388)
  line L60 (572.3879, 258.4388) -> (572.3494, 258.2058)
  line L61 (572.3494, 258.2058) -> (572.3044, 257.9735)
  line L62 (572.3044, 257.9735) -> (572.2529, 257.7421)
  line L63 (572.2529, 257.7421) -> (572.195, 257.5116)
  line L64 (572.195, 257.5116) -> (572.1308, 257.2824)
  line L65 (572.1308, 257.2824) -> (572.0604, 257.0546)
  line L66 (572.0604, 257.0546) -> (571.9839, 256.8283)
  line L67 (571.9839, 256.8283) -> (571.9014, 256.6037)
  line L68 (571.9014, 256.6037) -> (571.8129, 256.381)
  line L69 (571.8129, 256.381) -> (571.7186, 256.1604)
  line L70 (571.7186, 256.1604) -> (571.6186, 255.9421)
  line L71 (571.6186, 255.9421) -> (571.5129, 255.7261)
  line L72 (571.5129, 255.7261) -> (571.4016, 255.5127)
  line L73 (571.4016, 255.5127) -> (571.2849, 255.3021)
  line L74 (571.2849, 255.3021) -> (571.1628, 255.0944)
  line L75 (571.1628, 255.0944) -> (571.0354, 254.8898)
  line L76 (571.0354, 254.8898) -> (570.9028, 254.6885)
  line L77 (570.9028, 254.6885) -> (570.7652, 254.4906)
  line L78 (570.7652, 254.4906) -> (570.6225, 254.2964)
  line L79 (570.6225, 254.2964) -> (570.4749, 254.106)
  line L80 (570.4749, 254.106) -> (570.3225, 253.9195)
  line L81 (570.3225, 253.9195) -> (570.1654, 253.7372)
  line L82 (570.1654, 253.7372) -> (570.0037, 253.5591)
  line L83 (570.0037, 253.5591) -> (569.8374, 253.3856)
  line L84 (569.8374, 253.3856) -> (569.6667, 253.2167)
  line L85 (569.6667, 253.2167) -> (569.4916, 253.0527)
  line L86 (569.4916, 253.0527) -> (569.3123, 252.8937)
  line L87 (569.3123, 252.8937) -> (569.1288, 252.7398)
  line L88 (569.1288, 252.7398) -> (568.9412, 252.5913)
  line L89 (568.9412, 252.5913) -> (568.7497, 252.4483)
  line L90 (568.7497, 252.4483) -> (568.5543, 252.311)
  line L91 (568.5543, 252.311) -> (568.355, 252.1796)
  line L92 (568.355, 252.1796) -> (568.1521, 252.0542)
  line L93 (568.1521, 252.0542) -> (567.9457, 251.9349)
  line L94 (567.9457, 251.9349) -> (567.736, 251.8219)
  line L95 (567.736, 251.8219) -> (567.5231, 251.715)
  line L96 (567.5231, 251.715) -> (567.3073, 251.6145)
  line L97 (567.3073, 251.6145) -> (567.0888, 251.5204)
  line L98 (567.0888, 251.5204) -> (566.8677, 251.4327)
  line L99 (566.8677, 251.4327) -> (566.6443, 251.3516)
  line L100 (566.6443, 251.3516) -> (566.4187, 251.2771)
  line L101 (566.4187, 251.2771) -> (566.1911, 251.2092)
  line L102 (566.1911, 251.2092) -> (565.9618, 251.1481)
  line L103 (565.9618, 251.1481) -> (565.7308, 251.0938)
  line L104 (565.7308, 251.0938) -> (565.4985, 251.0464)
  line L105 (565.4985, 251.0464) -> (565.265, 251.0059)
  line L106 (565.265, 251.0059) -> (565.0305, 250.9724)
  line L107 (565.0305, 250.9724) -> (564.7951, 250.946)
  line L108 (564.7951, 250.946) -> (564.5591, 250.9268)
  line L109 (564.5591, 250.9268) -> (564.3227, 250.9148)
  line L110 (564.3227, 250.9148) -> (564.0861, 250.9101)
  line L111 (564.0861, 250.9101) -> (563.8494, 250.9127)
  line L112 (563.8494, 250.9127) -> (563.6128, 250.9228)
  line L113 (563.6128, 250.9228) -> (563.3766, 250.9404)
  line L114 (563.1409, 250.9656) -> (562.906, 250.9983)
  line L115 (562.906, 250.9983) -> (562.6719, 251.0388)
  line L116 (562.6719, 251.0388) -> (562.439, 251.0871)
  line L117 (562.439, 251.0871) -> (562.2074, 251.1432)
  line L118 (562.2074, 251.1432) -> (561.9772, 251.2072)
  line L119 (561.9772, 251.2072) -> (561.7487, 251.2792)
  line L120 (561.7487, 251.2792) -> (561.5221, 251.3592)
  line L121 (561.5221, 251.3592) -> (561.2975, 251.4473)
  line L122 (561.2975, 251.4473) -> (561.1861, 251.4945)
  line L123 (561.1861, 251.4945) -> (561.0753, 251.5437)
  line L124 (554.4697, 256.2412) -> (554.3188, 256.4266)
  line L125 (554.3188, 256.4266) -> (554.1731, 256.616)
  line L126 (554.1731, 256.616) -> (554.0329, 256.8093)
  line L127 (554.0329, 256.8093) -> (553.898, 257.0063)
  line L128 (553.898, 257.0063) -> (553.7686, 257.2069)
  line L129 (553.7686, 257.2069) -> (553.6447, 257.411)
  line L130 (553.6447, 257.411) -> (553.5265, 257.6182)
  line L131 (553.5265, 257.6182) -> (553.414, 257.8286)
  line L132 (553.414, 257.8286) -> (553.3071, 258.0418)
  line L133 (553.3071, 258.0418) -> (553.2061, 258.2578)
  line L134 (553.2061, 258.2578) -> (553.1109, 258.4764)
  line L135 (553.1109, 258.4764) -> (553.0217, 258.6974)
  line L136 (553.0217, 258.6974) -> (552.9385, 258.9206)
  line L137 (552.9385, 258.9206) -> (552.8613, 259.1459)
  line L138 (552.8613, 259.1459) -> (552.7902, 259.3732)
  line L139 (563.3766, 250.9404) -> (563.1409, 250.9656)
  line L140 (552.7902, 259.3732) -> (552.7253, 259.6021)
  line L141 (552.7253, 259.6021) -> (552.6667, 259.8327)
  line L142 (552.6667, 259.8327) -> (552.6143, 260.0646)
  line L143 (552.6143, 260.0646) -> (552.5684, 260.2978)
  line L144 (552.5684, 260.2978) -> (552.5289, 260.5321)
  line L145 (552.5289, 260.5321) -> (552.4959, 260.7673)
  line L146 (552.4959, 260.7673) -> (552.4694, 261.0032)
  line L147 (552.4694, 261.0032) -> (552.4496, 261.2397)
  line L148 (552.4496, 261.2397) -> (552.4365, 261.4766)
  line L149 (552.4365, 261.4766) -> (552.4301, 261.7138)
  line L150 (552.4301, 261.7138) -> (552.4305, 261.9511)
  line L151 (552.4305, 261.9511) -> (552.4379, 262.1882)
  line L152 (552.4379, 262.1882) -> (552.4522, 262.4251)
  line L153 (552.4522, 262.4251) -> (552.4735, 262.6616)
  line L154 (552.4735, 262.6616) -> (552.5018, 262.8975)
  line L155 (552.5018, 262.8975) -> (552.5373, 263.1327)
  line L156 (552.5373, 263.1327) -> (552.5801, 263.3669)
  line L157 (552.5801, 263.3669) -> (552.63, 263.6001)
  line L158 (552.63, 263.6001) -> (552.6871, 263.832)
  line L159 (552.6871, 263.832) -> (552.7512, 264.0625)
  line L160 (552.7512, 264.0625) -> (552.8221, 264.2913)
  line L161 (552.8221, 264.2913) -> (552.8997, 264.5184)
  line L162 (552.8997, 264.5184) -> (552.9838, 264.7436)
  line L163 (552.9838, 264.7436) -> (553.0744, 264.9667)
  line L164 (553.0744, 264.9667) -> (553.1713, 265.1875)
  line L165 (553.1713, 265.1875) -> (553.2743, 265.4059)
  line L166 (553.2743, 265.4059) -> (553.3833, 265.6216)
  line L167 (553.3833, 265.6216) -> (553.4982, 265.8346)
  line L168 (553.4982, 265.8346) -> (553.6188, 266.0446)
  line L169 (553.6188, 266.0446) -> (553.745, 266.2515)
  line L170 (553.745, 266.2515) -> (553.8766, 266.4551)
  line L171 (553.8766, 266.4551) -> (554.0134, 266.6552)
  line L172 (554.0134, 266.6552) -> (554.1555, 266.8517)
  line L173 (554.1555, 266.8517) -> (554.3025, 267.0444)
  line L174 (554.3025, 267.0444) -> (554.4545, 267.2331)
  line L175 (554.4545, 267.2331) -> (554.6111, 267.4177)
  line L176 (554.6111, 267.4177) -> (554.7724, 267.598)
  line L177 (554.7724, 267.598) -> (554.9381, 267.7738)
  line L178 (554.9381, 267.7738) -> (555.108, 267.945)
  line L179 (555.108, 267.945) -> (555.2822, 268.1113)
  line L180 (555.2822, 268.1113) -> (555.4604, 268.2726)
  line L181 (555.4604, 268.2726) -> (555.6425, 268.4288)
  line L182 (555.6425, 268.4288) -> (555.8283, 268.5797)
  line L183 (555.8283, 268.5797) -> (556.0177, 268.725)
  line L184 (556.0177, 268.725) -> (556.2106, 268.8647)
  line L185 (556.2106, 268.8647) -> (556.4068, 268.9986)
  line L186 (556.4068, 268.9986) -> (556.6061, 269.1264)
  line L187 (556.6061, 269.1264) -> (556.8085, 269.2481)
  line L188 (556.8085, 269.2481) -> (557.0138, 269.3634)
  line L189 (557.0138, 269.3634) -> (557.2219, 269.4722)
  line L190 (557.2219, 269.4722) -> (557.4326, 269.5746)
  line L191 (557.4326, 269.5746) -> (557.6458, 269.6706)
  line L192 (557.6458, 269.6706) -> (557.8613, 269.7602)
  line L193 (557.8613, 269.7602) -> (558.0792, 269.8435)
  line L194 (558.0792, 269.8435) -> (558.2991, 269.9206)
  line L195 (558.2991, 269.9206) -> (558.521, 269.9914)
  line L196 (558.521, 269.9914) -> (558.7448, 270.0562)
  line L197 (558.7448, 270.0562) -> (558.9703, 270.1148)
  line L198 (558.9703, 270.1148) -> (559.1974, 270.1675)
  line L199 (559.1974, 270.1675) -> (559.426, 270.2141)
  line L200 (559.426, 270.2141) -> (559.6559, 270.2548)
  line L201 (559.6559, 270.2548) -> (559.8871, 270.2897)
  line L202 (559.8871, 270.2897) -> (560.1194, 270.3188)
  line L203 (560.1194, 270.3188) -> (560.3526, 270.342)
  line L204 (560.3526, 270.342) -> (560.5867, 270.3596)
  line L205 (560.5867, 270.3596) -> (560.8215, 270.3716)
  line L206 (560.8215, 270.3716) -> (561.0569, 270.3779)
  line L207 (561.0569, 270.3779) -> (561.2927, 270.3787)
  line L208 (561.2927, 270.3787) -> (561.5289, 270.374)
  line L209 (561.5289, 270.374) -> (561.7653, 270.3638)
  line L210 (561.7653, 270.3638) -> (562.0017, 270.3483)
  line L211 (562.0017, 270.3483) -> (562.2381, 270.3274)
  line L212 (562.2381, 270.3274) -> (562.4743, 270.3013)
  line L213 (562.4743, 270.3013) -> (562.7102, 270.27)
  line L214 (562.7102, 270.27) -> (562.9457, 270.2335)
  line L215 (562.9457, 270.2335) -> (563.1806, 270.1919)
  line L216 (563.1806, 270.1919) -> (563.4148, 270.1452)
  line L217 (563.4148, 270.1452) -> (563.6483, 270.0936)
  line L218 (563.6483, 270.0936) -> (563.8807, 270.037)
  line L219 (563.8807, 270.037) -> (564.1121, 269.9755)
  line L220 (564.1121, 269.9755) -> (564.3423, 269.9091)
  line L221 (564.3423, 269.9091) -> (564.5711, 269.838)
  line L222 (564.5711, 269.838) -> (564.7986, 269.7622)
  line L223 (564.7986, 269.7622) -> (565.0245, 269.6817)
  line L224 (565.0245, 269.6817) -> (565.2488, 269.5965)
extrude "Extrusion1" add sketch "CONTOURS" along normal blind 10 contours L82 A47 L83 A48 L84 A49 L85 A50 L86 A51 L87 A52
extrude "Extrusion2" cut sketch "HOLES" along normal blind 18 contours L0 A0 L1 A1 L2 A2 L39 A35 | L10 A32 L36 A33 L37 A34 L38 L35 A31 | L24 A23 L25 A24 L26 A25 L27 A26 | L34 L33 L32 A30 L31 A29 L30 A28 L29 A27 L28
properties part number "Platform C1" material "Wood (Birch)"
